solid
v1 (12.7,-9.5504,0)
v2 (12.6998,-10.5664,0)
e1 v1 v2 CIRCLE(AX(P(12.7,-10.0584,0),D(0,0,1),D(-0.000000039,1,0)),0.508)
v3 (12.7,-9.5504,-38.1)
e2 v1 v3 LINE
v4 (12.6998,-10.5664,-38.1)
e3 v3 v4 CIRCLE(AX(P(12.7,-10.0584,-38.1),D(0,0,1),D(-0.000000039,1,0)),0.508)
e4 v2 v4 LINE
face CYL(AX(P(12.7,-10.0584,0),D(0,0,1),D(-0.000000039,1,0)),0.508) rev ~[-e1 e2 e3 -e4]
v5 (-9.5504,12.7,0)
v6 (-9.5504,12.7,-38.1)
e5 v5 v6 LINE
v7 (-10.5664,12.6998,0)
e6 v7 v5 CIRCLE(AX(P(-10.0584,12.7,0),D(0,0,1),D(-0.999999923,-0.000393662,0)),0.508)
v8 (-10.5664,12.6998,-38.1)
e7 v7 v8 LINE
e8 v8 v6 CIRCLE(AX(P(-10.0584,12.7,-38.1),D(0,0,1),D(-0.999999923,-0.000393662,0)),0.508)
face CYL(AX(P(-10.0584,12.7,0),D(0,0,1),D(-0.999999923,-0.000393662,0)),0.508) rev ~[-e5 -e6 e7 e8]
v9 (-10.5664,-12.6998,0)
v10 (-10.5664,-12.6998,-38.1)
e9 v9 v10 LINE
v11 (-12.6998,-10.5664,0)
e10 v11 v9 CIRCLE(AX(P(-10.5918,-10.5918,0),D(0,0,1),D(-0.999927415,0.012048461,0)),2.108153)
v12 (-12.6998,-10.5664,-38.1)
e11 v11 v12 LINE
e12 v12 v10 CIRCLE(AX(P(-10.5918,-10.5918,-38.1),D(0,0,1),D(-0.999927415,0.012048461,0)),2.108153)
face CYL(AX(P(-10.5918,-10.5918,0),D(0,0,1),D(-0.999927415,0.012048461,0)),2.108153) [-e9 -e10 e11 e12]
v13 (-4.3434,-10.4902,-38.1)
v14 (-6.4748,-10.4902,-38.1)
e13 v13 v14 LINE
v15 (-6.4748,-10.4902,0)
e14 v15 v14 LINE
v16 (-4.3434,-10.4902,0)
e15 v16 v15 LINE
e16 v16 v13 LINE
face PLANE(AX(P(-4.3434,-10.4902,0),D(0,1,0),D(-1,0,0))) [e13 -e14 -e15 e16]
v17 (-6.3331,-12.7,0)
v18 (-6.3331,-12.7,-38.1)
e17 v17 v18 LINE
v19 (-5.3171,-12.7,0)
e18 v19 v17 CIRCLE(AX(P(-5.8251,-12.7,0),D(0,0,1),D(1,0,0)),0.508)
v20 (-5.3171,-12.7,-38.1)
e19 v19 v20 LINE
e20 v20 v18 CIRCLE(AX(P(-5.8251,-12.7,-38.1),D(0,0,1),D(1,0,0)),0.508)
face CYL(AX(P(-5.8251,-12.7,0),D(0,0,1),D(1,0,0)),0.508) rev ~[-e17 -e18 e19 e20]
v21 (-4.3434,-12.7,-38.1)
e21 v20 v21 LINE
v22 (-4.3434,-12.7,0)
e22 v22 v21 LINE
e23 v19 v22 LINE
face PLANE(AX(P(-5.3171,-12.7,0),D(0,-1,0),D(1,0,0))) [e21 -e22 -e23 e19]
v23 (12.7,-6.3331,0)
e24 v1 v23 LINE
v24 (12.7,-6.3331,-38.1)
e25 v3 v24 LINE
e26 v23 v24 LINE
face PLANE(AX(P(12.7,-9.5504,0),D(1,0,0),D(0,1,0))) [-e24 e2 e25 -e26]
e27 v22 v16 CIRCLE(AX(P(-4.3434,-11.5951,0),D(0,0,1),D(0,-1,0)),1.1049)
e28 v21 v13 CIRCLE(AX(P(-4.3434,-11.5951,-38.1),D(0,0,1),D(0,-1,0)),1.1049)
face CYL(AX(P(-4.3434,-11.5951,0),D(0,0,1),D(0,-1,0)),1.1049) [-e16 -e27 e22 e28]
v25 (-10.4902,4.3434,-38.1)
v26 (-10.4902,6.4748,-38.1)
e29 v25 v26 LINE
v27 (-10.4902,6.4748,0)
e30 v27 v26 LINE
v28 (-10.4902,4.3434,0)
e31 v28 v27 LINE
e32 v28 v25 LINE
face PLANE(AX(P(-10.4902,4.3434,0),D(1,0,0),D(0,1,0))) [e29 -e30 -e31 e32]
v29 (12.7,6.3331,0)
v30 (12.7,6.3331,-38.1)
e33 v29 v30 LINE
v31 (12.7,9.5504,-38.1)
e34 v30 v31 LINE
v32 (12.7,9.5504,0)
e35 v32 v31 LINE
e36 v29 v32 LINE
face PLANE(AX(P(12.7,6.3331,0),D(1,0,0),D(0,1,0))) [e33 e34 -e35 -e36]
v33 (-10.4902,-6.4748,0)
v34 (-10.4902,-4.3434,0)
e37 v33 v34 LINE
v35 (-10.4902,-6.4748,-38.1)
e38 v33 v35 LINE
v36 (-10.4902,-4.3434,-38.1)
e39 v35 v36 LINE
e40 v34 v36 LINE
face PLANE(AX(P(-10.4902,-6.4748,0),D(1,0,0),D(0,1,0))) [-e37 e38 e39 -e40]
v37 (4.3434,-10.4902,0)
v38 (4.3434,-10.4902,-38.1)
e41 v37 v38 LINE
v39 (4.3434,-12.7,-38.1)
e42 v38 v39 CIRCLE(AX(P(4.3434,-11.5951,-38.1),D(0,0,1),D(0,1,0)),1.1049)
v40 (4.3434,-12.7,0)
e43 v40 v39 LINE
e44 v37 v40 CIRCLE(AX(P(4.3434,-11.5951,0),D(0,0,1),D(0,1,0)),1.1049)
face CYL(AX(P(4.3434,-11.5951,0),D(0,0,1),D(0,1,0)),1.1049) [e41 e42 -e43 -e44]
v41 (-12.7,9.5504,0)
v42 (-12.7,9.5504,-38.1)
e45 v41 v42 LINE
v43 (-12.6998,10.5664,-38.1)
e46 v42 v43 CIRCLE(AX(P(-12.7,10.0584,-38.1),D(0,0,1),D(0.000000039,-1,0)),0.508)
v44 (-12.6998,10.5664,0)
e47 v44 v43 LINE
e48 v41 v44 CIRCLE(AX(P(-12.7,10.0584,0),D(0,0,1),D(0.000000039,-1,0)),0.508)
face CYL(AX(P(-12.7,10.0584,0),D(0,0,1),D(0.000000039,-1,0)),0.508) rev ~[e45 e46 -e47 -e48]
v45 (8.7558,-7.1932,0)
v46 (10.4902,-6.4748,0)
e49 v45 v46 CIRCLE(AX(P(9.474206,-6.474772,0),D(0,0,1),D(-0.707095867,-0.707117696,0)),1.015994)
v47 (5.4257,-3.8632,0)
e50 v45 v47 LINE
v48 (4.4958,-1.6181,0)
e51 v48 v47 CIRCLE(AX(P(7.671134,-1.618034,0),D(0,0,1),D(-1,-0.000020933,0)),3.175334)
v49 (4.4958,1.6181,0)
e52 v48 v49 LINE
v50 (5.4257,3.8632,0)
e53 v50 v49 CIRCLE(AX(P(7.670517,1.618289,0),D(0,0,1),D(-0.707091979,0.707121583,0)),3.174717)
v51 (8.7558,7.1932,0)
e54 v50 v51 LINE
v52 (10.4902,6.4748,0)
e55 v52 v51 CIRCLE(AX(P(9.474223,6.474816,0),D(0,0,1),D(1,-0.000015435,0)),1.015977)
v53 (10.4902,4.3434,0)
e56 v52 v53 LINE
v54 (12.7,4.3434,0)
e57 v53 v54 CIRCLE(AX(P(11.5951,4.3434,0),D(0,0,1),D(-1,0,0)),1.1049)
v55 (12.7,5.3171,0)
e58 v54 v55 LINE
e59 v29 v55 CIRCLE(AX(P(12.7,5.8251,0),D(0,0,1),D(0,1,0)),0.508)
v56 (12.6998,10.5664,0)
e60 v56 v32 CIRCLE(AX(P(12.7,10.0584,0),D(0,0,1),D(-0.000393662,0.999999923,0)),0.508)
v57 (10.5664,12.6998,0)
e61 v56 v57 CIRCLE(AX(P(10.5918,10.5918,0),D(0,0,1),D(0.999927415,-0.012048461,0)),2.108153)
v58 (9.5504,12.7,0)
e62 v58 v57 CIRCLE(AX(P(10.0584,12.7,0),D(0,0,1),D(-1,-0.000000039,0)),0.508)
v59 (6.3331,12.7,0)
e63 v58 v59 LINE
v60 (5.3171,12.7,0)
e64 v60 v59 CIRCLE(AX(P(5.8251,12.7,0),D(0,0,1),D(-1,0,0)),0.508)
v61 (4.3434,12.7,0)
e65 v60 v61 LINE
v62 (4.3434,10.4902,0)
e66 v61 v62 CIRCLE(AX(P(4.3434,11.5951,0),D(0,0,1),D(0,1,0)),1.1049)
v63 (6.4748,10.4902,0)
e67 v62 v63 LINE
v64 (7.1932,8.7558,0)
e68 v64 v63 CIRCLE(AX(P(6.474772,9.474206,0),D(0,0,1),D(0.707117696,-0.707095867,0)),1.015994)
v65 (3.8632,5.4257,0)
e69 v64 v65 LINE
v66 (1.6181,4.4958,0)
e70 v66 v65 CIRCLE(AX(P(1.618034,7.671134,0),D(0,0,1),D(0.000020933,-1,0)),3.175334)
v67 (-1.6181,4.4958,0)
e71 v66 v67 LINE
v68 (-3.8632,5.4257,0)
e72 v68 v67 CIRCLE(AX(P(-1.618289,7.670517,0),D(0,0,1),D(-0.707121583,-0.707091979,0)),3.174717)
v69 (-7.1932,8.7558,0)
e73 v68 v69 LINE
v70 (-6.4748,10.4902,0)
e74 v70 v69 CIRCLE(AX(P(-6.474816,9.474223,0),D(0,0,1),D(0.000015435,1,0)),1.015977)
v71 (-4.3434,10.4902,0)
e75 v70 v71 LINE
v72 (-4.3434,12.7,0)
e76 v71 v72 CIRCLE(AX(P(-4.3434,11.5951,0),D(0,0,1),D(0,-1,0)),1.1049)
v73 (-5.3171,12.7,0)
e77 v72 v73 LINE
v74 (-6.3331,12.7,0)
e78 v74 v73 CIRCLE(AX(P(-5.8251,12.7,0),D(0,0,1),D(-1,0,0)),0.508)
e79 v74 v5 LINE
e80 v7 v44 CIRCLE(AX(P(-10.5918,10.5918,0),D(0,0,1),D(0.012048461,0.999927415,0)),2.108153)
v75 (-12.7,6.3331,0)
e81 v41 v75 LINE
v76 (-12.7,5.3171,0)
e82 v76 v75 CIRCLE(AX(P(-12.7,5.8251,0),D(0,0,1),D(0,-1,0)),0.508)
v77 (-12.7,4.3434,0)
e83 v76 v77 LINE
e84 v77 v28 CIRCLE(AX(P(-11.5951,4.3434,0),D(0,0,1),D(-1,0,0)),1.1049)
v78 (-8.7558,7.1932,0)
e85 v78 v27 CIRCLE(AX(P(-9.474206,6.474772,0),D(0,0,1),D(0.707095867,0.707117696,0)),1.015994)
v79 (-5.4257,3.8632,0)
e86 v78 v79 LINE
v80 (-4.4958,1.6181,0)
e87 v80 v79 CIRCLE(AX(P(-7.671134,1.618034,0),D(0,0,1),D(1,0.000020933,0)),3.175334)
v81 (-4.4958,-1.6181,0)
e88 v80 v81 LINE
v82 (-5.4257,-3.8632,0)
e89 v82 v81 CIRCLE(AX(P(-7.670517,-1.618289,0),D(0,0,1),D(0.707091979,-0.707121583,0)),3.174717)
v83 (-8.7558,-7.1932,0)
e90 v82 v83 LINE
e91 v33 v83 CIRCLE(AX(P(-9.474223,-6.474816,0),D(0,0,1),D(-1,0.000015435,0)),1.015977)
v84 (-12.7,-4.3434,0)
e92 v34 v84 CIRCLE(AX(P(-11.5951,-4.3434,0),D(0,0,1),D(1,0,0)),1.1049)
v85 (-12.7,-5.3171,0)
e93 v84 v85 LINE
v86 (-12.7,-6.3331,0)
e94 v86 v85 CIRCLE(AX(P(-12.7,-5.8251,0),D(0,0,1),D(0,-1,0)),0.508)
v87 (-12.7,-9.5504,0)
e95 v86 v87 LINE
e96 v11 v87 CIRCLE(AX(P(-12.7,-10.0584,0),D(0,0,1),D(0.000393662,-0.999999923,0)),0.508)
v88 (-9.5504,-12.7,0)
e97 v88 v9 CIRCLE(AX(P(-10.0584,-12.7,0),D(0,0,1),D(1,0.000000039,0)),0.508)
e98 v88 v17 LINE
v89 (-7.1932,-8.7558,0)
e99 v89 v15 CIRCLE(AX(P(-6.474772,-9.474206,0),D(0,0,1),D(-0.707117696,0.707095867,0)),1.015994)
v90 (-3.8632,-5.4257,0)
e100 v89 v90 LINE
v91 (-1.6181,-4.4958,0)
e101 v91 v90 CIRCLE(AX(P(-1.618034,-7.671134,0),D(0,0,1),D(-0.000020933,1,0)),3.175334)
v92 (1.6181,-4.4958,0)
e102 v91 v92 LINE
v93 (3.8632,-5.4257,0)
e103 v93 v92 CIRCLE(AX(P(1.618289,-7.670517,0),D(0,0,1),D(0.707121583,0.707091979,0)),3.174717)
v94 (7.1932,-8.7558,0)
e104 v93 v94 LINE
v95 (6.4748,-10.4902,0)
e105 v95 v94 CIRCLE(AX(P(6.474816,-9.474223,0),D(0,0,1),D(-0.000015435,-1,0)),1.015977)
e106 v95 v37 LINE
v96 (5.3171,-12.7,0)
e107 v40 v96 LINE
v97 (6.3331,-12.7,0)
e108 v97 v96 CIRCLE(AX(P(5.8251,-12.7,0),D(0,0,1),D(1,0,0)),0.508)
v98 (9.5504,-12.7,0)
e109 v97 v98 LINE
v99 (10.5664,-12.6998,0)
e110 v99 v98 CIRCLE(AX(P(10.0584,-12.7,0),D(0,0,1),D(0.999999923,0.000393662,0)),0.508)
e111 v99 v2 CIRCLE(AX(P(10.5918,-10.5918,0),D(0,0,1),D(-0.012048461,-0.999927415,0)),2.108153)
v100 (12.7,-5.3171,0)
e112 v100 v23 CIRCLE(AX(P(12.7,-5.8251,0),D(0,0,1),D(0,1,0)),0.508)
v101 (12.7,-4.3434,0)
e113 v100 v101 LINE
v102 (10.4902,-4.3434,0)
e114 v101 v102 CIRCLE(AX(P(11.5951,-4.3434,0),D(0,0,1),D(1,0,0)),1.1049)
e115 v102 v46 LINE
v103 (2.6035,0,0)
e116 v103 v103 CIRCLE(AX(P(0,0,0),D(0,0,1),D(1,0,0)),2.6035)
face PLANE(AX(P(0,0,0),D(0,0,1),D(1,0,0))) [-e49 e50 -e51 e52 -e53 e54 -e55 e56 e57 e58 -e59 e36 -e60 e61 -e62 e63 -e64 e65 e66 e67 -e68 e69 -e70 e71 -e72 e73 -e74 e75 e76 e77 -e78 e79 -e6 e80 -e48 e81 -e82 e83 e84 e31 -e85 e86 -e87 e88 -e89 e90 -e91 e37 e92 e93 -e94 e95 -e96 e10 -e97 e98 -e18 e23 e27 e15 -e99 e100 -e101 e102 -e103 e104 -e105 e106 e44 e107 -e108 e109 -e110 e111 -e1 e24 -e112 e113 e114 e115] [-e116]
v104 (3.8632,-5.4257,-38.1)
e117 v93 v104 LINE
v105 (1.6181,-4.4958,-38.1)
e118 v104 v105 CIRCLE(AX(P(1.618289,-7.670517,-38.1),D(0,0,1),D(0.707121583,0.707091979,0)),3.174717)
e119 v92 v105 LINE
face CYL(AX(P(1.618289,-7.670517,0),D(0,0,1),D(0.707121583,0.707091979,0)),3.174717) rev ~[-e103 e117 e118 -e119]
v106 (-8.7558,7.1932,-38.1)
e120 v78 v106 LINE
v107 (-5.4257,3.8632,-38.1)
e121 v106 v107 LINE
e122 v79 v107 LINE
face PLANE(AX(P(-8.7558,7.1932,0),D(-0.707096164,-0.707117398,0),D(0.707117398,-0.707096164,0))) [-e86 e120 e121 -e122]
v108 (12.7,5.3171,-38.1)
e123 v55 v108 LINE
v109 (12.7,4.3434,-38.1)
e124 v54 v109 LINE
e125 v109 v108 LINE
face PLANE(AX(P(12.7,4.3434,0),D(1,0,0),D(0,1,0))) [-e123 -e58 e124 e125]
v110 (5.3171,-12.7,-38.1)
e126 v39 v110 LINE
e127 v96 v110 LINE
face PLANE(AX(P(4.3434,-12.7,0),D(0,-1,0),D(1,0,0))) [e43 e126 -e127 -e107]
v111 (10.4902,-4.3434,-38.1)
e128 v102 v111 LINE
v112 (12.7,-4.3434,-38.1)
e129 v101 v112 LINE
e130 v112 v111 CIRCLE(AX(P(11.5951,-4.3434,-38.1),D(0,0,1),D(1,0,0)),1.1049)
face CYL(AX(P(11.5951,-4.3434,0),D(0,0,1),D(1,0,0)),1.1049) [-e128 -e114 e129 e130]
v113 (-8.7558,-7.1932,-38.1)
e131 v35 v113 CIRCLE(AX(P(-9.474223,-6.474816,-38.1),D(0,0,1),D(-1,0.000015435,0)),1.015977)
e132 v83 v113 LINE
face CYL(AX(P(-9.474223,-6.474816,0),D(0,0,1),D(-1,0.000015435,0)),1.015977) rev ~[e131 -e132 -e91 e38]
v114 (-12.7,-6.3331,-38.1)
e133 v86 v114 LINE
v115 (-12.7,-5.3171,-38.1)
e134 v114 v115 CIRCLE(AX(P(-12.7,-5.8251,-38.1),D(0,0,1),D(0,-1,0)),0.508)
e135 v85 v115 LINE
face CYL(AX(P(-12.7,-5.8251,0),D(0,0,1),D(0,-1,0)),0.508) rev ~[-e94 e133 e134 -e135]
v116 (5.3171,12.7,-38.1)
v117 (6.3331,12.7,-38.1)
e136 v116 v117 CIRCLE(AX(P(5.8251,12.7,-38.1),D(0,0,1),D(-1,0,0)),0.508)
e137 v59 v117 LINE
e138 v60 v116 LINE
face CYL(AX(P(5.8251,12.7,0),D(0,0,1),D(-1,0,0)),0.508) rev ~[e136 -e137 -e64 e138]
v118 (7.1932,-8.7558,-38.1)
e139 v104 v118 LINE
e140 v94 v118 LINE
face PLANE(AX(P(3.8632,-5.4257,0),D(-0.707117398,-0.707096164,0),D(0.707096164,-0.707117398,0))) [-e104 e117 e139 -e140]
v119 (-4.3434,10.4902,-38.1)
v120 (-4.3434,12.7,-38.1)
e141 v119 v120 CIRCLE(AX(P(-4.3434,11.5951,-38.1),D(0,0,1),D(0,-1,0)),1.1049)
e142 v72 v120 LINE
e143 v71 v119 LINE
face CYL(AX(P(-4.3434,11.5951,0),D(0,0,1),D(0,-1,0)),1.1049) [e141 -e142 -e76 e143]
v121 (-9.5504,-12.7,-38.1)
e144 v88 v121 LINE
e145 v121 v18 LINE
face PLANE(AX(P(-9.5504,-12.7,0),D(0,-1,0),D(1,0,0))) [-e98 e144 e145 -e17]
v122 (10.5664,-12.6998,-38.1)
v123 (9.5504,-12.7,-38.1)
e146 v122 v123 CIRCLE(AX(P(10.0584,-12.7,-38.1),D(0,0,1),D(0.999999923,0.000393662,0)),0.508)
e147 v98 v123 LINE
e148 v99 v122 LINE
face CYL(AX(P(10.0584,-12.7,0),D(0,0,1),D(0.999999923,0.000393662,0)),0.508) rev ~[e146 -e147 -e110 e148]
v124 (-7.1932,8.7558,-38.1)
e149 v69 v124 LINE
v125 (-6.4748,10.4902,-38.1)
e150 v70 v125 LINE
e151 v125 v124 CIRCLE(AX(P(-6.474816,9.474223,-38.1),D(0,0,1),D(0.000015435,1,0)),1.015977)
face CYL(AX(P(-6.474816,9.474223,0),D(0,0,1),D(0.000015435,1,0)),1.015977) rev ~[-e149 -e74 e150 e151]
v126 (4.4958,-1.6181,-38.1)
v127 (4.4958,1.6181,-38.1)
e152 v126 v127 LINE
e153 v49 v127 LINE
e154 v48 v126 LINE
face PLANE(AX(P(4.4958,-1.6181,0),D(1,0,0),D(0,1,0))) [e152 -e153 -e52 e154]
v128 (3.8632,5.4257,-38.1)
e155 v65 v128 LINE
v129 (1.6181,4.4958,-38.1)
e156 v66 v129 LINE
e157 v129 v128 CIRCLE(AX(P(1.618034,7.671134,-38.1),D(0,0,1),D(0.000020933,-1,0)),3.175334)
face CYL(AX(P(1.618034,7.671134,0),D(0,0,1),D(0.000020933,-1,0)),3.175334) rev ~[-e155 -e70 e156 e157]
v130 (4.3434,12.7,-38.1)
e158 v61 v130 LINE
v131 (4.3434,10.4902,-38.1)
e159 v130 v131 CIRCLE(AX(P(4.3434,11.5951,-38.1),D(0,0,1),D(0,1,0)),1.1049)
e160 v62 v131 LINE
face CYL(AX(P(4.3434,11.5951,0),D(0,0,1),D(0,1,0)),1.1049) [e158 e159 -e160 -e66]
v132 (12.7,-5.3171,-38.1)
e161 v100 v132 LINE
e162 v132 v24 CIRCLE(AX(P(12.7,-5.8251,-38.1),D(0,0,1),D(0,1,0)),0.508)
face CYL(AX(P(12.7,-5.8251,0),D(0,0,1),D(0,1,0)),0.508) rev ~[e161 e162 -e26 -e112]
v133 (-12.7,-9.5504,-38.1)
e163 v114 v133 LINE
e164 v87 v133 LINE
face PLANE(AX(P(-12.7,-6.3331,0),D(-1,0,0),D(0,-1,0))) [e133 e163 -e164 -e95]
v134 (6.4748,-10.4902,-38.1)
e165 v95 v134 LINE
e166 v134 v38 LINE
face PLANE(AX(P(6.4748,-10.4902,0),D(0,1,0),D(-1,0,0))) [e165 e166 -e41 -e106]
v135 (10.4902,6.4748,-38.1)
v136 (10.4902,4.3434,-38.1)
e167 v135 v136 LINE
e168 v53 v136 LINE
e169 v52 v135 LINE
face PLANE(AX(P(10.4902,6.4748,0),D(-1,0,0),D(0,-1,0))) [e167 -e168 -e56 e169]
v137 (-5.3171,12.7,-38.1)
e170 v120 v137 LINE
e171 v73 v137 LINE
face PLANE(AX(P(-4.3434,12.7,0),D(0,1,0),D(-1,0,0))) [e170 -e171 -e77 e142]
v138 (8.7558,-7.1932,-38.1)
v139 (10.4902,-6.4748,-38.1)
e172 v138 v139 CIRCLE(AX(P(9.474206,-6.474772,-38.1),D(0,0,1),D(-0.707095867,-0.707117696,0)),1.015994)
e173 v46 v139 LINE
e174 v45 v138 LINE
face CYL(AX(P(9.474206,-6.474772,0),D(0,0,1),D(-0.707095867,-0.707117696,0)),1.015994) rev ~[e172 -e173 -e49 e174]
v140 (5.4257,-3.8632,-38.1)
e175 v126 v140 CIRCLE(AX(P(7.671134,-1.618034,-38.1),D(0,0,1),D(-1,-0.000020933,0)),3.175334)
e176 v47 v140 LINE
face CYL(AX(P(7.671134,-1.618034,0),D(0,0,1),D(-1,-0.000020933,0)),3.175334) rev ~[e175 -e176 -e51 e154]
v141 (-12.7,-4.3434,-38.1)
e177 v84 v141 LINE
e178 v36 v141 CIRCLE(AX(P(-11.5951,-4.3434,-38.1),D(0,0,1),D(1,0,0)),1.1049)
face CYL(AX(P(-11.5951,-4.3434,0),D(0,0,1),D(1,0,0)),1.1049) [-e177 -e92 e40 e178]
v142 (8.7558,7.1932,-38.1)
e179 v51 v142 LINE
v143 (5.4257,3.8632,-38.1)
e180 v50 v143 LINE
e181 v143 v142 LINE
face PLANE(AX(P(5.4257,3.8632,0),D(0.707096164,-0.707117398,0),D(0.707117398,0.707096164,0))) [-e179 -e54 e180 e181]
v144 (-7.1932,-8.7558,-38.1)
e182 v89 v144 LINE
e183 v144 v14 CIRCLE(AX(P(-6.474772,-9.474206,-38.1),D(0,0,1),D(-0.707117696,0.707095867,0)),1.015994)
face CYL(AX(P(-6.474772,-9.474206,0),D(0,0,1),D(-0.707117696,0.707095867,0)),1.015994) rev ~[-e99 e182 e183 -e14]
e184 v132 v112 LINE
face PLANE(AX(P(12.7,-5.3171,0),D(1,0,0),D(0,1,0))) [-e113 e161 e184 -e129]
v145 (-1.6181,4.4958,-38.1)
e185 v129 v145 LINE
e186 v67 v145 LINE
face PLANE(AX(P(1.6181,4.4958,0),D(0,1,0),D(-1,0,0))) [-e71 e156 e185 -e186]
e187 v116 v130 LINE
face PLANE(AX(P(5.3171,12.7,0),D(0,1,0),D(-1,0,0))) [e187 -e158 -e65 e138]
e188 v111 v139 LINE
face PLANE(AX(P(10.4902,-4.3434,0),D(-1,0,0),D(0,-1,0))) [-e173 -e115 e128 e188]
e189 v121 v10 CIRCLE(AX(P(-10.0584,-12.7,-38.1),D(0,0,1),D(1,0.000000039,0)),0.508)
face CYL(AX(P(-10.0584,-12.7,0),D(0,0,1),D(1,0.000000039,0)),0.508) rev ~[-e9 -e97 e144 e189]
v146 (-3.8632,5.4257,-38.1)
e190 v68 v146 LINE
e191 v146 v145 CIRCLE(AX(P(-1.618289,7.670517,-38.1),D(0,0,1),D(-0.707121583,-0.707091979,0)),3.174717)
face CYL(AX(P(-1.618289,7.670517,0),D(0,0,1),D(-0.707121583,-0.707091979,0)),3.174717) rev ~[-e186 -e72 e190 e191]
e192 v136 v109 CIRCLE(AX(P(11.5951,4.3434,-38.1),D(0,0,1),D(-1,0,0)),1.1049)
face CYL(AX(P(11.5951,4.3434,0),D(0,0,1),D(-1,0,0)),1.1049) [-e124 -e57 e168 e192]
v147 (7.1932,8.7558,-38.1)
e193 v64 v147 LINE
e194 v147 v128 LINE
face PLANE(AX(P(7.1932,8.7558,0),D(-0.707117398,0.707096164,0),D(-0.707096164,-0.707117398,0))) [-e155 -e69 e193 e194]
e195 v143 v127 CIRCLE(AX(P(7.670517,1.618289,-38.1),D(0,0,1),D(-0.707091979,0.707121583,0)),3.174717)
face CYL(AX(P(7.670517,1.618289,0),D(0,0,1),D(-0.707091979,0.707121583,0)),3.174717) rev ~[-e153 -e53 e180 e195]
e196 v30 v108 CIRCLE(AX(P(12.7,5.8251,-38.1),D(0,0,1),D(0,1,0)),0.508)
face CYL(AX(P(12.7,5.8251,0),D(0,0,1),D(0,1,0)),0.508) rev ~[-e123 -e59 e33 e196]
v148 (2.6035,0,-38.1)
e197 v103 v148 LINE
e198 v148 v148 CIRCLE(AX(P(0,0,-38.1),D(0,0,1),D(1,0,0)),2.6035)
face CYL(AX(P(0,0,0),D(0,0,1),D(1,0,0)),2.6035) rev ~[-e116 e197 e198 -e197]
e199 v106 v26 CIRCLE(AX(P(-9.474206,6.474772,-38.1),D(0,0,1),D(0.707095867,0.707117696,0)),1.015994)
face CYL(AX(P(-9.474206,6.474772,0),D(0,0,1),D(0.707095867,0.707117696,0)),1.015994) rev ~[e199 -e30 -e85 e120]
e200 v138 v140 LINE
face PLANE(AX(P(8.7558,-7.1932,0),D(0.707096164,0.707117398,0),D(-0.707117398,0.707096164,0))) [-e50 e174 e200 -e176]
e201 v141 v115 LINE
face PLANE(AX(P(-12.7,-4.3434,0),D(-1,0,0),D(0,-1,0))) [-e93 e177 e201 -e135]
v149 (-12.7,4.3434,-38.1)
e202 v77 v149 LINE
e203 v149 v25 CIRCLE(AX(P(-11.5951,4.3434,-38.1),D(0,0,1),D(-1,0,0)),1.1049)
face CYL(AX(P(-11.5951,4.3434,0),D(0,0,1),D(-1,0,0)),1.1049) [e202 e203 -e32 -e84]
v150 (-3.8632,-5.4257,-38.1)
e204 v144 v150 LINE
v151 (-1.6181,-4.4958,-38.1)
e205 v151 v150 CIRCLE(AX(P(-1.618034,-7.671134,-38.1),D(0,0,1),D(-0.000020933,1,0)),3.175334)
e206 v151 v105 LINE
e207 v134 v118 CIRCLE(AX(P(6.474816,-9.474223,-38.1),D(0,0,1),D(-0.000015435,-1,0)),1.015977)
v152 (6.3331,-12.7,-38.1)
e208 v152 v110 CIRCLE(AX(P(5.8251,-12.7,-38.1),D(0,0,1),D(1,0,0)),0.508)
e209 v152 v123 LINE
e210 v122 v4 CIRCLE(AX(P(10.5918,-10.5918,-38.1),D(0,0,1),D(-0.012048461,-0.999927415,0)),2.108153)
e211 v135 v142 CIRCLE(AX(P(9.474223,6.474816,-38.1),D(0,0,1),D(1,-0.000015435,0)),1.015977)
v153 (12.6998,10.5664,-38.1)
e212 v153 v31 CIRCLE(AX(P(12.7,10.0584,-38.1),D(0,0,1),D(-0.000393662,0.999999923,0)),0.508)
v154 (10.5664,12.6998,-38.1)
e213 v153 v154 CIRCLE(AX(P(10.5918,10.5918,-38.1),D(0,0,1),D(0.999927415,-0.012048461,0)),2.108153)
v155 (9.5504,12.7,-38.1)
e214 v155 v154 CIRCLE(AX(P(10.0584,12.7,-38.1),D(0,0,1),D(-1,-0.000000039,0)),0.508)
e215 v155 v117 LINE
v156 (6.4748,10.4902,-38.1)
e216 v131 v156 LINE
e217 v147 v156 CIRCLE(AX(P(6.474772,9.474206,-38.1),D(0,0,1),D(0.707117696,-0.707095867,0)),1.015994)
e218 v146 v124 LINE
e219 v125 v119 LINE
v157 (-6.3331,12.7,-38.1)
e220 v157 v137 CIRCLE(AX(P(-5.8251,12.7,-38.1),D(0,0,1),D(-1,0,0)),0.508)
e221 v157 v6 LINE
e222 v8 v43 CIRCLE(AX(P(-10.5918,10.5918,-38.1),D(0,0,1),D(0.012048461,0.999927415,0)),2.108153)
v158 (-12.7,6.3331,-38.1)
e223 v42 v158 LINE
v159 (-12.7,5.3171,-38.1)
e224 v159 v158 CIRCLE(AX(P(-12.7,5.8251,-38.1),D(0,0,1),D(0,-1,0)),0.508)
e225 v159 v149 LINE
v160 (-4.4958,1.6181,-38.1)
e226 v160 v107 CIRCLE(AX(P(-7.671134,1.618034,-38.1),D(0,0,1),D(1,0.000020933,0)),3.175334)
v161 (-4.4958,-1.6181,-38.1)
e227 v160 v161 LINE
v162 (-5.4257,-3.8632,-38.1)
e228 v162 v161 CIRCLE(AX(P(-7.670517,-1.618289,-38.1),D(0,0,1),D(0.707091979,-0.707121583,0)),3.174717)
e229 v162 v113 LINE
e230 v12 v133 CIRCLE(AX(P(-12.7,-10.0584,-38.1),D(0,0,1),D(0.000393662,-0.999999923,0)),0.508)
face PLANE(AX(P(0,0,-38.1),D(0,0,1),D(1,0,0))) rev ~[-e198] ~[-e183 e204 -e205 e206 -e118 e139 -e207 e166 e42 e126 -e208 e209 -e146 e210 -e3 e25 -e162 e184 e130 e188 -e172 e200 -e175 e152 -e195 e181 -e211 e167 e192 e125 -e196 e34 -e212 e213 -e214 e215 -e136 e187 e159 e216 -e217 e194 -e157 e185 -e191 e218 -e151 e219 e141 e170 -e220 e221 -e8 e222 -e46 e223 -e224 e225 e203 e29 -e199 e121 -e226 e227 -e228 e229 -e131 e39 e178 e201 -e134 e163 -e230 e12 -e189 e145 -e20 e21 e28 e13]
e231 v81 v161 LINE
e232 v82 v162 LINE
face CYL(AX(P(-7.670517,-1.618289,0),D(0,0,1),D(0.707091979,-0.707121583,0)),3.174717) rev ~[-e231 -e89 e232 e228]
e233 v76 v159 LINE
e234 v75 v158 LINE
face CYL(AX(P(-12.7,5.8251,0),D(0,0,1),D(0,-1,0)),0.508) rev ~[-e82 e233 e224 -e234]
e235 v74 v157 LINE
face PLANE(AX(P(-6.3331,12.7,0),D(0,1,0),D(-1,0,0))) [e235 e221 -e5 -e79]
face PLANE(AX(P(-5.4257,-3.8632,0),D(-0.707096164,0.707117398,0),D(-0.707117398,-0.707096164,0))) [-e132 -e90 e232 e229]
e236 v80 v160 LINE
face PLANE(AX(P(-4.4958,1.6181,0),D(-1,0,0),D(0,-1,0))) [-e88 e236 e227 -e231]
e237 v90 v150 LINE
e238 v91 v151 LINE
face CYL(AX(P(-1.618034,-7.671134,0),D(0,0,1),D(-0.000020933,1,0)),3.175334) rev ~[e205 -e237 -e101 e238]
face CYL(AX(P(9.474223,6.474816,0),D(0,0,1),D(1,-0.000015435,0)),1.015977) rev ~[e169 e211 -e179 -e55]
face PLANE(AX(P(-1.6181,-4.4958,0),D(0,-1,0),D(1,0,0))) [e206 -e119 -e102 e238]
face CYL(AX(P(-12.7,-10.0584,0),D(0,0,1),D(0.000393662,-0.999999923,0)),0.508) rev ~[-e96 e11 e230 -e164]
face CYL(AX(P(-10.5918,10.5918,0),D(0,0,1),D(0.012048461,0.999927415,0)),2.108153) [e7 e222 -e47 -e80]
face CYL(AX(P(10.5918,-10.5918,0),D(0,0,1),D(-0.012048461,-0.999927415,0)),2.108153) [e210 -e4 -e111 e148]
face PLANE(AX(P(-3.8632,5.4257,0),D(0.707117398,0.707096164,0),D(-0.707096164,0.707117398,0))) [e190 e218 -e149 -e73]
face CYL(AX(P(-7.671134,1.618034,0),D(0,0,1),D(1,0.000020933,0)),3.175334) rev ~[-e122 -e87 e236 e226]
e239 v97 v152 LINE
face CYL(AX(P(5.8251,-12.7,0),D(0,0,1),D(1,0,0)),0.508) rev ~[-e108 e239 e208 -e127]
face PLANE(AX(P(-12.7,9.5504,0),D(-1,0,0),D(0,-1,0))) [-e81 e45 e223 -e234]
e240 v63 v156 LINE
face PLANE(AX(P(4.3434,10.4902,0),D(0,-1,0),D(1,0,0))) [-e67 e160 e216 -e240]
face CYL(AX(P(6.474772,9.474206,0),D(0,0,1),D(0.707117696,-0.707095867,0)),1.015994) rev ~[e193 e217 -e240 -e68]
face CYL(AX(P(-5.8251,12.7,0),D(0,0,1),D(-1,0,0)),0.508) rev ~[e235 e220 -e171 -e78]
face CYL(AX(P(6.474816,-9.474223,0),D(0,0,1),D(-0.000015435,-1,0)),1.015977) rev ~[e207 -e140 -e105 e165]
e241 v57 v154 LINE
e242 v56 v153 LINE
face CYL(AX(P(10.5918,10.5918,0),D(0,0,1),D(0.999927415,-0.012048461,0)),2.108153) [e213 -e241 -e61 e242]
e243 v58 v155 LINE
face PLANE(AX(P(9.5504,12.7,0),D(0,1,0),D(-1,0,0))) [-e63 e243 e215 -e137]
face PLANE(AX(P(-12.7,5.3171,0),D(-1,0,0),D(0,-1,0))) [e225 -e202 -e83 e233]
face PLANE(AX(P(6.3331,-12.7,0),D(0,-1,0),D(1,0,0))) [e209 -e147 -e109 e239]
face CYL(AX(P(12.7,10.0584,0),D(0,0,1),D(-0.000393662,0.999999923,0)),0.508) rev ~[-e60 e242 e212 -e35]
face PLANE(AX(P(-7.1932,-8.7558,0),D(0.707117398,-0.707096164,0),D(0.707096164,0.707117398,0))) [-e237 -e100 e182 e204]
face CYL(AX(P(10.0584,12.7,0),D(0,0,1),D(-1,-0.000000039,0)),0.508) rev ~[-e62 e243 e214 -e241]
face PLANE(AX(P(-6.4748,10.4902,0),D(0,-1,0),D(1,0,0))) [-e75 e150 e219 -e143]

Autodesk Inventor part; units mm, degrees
ref_plane "YZ Plane" through (0, 0, 0) normal (1, 0, 0) x (0, 1, 0)
ref_plane "XZ Plane" through (0, 0, 0) normal (0, 1, 0) x (-1, 0, 0)
ref_plane "XY Plane" through (0, 0, 0) normal (0, 0, 1) x (1, 0, 0)
sketch "Sketch_1" plane through (0, 0, 0) normal (0, 0, 1) x (1, 0, 0)
  arc A0 (-12.6998, -10.5664) -> (-10.5664, -12.6998) centre (-10.5918, -10.5918) ccw
  arc A1 (-9.5504, -12.7) -> (-10.5664, -12.6998) centre (-10.0584, -12.7) ccw
  line L0 (-9.5504, -12.7) -> (-6.3331, -12.7)
  arc A2 (-5.3171, -12.7) -> (-6.3331, -12.7) centre (-5.8251, -12.7) ccw
  line L1 (-5.3171, -12.7) -> (-4.3434, -12.7)
  arc A3 (-4.3434, -12.7) -> (-4.3434, -10.4902) centre (-4.3434, -11.5951) ccw
  line L2 (-4.3434, -10.4902) -> (-6.4748, -10.4902)
  arc A4 (-7.1932, -8.7558) -> (-6.4748, -10.4902) centre (-6.4748, -9.4742) ccw
  line L3 (-7.1932, -8.7558) -> (-3.8632, -5.4257)
  arc A5 (-1.6181, -4.4958) -> (-3.8632, -5.4257) centre (-1.6181, -7.6708) ccw
  line L4 (-1.6181, -4.4958) -> (1.6181, -4.4958)
  arc A6 (3.8632, -5.4257) -> (1.6181, -4.4958) centre (1.6181, -7.6708) ccw
  line L5 (3.8632, -5.4257) -> (7.1932, -8.7558)
  arc A7 (6.4748, -10.4902) -> (7.1932, -8.7558) centre (6.4748, -9.4742) ccw
  line L6 (6.4748, -10.4902) -> (4.3434, -10.4902)
  arc A8 (4.3434, -10.4902) -> (4.3434, -12.7) centre (4.3434, -11.5951) ccw
  line L7 (4.3434, -12.7) -> (5.3171, -12.7)
  arc A9 (6.3331, -12.7) -> (5.3171, -12.7) centre (5.8251, -12.7) ccw
  line L8 (6.3331, -12.7) -> (9.5504, -12.7)
  arc A10 (10.5664, -12.6998) -> (9.5504, -12.7) centre (10.0584, -12.7) ccw
  arc A11 (10.5664, -12.6998) -> (12.6998, -10.5664) centre (10.5918, -10.5918) ccw
  arc A12 (12.7, -9.5504) -> (12.6998, -10.5664) centre (12.7, -10.0584) ccw
  line L9 (12.7, -9.5504) -> (12.7, -6.3331)
  arc A13 (12.7, -5.3171) -> (12.7, -6.3331) centre (12.7, -5.8251) ccw
  line L10 (12.7, -5.3171) -> (12.7, -4.3434)
  arc A14 (12.7, -4.3434) -> (10.4902, -4.3434) centre (11.5951, -4.3434) ccw
  line L11 (10.4902, -4.3434) -> (10.4902, -6.4748)
  arc A15 (8.7558, -7.1932) -> (10.4902, -6.4748) centre (9.4742, -6.4748) ccw
  line L12 (8.7558, -7.1932) -> (5.4257, -3.8632)
  arc A16 (4.4958, -1.6181) -> (5.4257, -3.8632) centre (7.6708, -1.6181) ccw
  line L13 (4.4958, -1.6181) -> (4.4958, 1.6181)
  arc A17 (5.4257, 3.8632) -> (4.4958, 1.6181) centre (7.6708, 1.6181) ccw
  line L14 (5.4257, 3.8632) -> (8.7558, 7.1932)
  arc A18 (10.4902, 6.4748) -> (8.7558, 7.1932) centre (9.4742, 6.4748) ccw
  line L15 (10.4902, 6.4748) -> (10.4902, 4.3434)
  arc A19 (10.4902, 4.3434) -> (12.7, 4.3434) centre (11.5951, 4.3434) ccw
  line L16 (12.7, 4.3434) -> (12.7, 5.3171)
  arc A20 (12.7, 6.3331) -> (12.7, 5.3171) centre (12.7, 5.8251) ccw
  line L17 (12.7, 6.3331) -> (12.7, 9.5504)
  arc A21 (12.6998, 10.5664) -> (12.7, 9.5504) centre (12.7, 10.0584) ccw
  arc A22 (12.6998, 10.5664) -> (10.5664, 12.6998) centre (10.5918, 10.5918) ccw
  arc A23 (9.5504, 12.7) -> (10.5664, 12.6998) centre (10.0584, 12.7) ccw
  line L18 (9.5504, 12.7) -> (6.3331, 12.7)
  arc A24 (5.3171, 12.7) -> (6.3331, 12.7) centre (5.8251, 12.7) ccw
  line L19 (5.3171, 12.7) -> (4.3434, 12.7)
  arc A25 (4.3434, 12.7) -> (4.3434, 10.4902) centre (4.3434, 11.5951) ccw
  line L20 (4.3434, 10.4902) -> (6.4748, 10.4902)
  arc A26 (7.1932, 8.7558) -> (6.4748, 10.4902) centre (6.4748, 9.4742) ccw
  line L21 (7.1932, 8.7558) -> (3.8632, 5.4257)
  arc A27 (1.6181, 4.4958) -> (3.8632, 5.4257) centre (1.6181, 7.6708) ccw
  line L22 (1.6181, 4.4958) -> (-1.6181, 4.4958)
  arc A28 (-3.8632, 5.4257) -> (-1.6181, 4.4958) centre (-1.6181, 7.6708) ccw
  line L23 (-3.8632, 5.4257) -> (-7.1932, 8.7558)
  arc A29 (-6.4748, 10.4902) -> (-7.1932, 8.7558) centre (-6.4748, 9.4742) ccw
  line L24 (-6.4748, 10.4902) -> (-4.3434, 10.4902)
  arc A30 (-4.3434, 10.4902) -> (-4.3434, 12.7) centre (-4.3434, 11.5951) ccw
  line L25 (-4.3434, 12.7) -> (-5.3171, 12.7)
  arc A31 (-6.3331, 12.7) -> (-5.3171, 12.7) centre (-5.8251, 12.7) ccw
  line L26 (-6.3331, 12.7) -> (-9.5504, 12.7)
  arc A32 (-10.5664, 12.6998) -> (-9.5504, 12.7) centre (-10.0584, 12.7) ccw
  arc A33 (-10.5664, 12.6998) -> (-12.6998, 10.5664) centre (-10.5918, 10.5918) ccw
  arc A34 (-12.7, 9.5504) -> (-12.6998, 10.5664) centre (-12.7, 10.0584) ccw
  line L27 (-12.7, 9.5504) -> (-12.7, 6.3331)
  arc A35 (-12.7, 5.3171) -> (-12.7, 6.3331) centre (-12.7, 5.8251) ccw
  line L28 (-12.7, 5.3171) -> (-12.7, 4.3434)
  arc A36 (-12.7, 4.3434) -> (-10.4902, 4.3434) centre (-11.5951, 4.3434) ccw
  line L29 (-10.4902, 4.3434) -> (-10.4902, 6.4748)
  arc A37 (-8.7558, 7.1932) -> (-10.4902, 6.4748) centre (-9.4742, 6.4748) ccw
  line L30 (-8.7558, 7.1932) -> (-5.4257, 3.8632)
  arc A38 (-4.4958, 1.6181) -> (-5.4257, 3.8632) centre (-7.6708, 1.6181) ccw
  line L31 (-4.4958, 1.6181) -> (-4.4958, -1.6181)
  arc A39 (-5.4257, -3.8632) -> (-4.4958, -1.6181) centre (-7.6708, -1.6181) ccw
  line L32 (-5.4257, -3.8632) -> (-8.7558, -7.1932)
  arc A40 (-10.4902, -6.4748) -> (-8.7558, -7.1932) centre (-9.4742, -6.4748) ccw
  line L33 (-10.4902, -6.4748) -> (-10.4902, -4.3434)
  arc A41 (-10.4902, -4.3434) -> (-12.7, -4.3434) centre (-11.5951, -4.3434) ccw
  line L34 (-12.7, -4.3434) -> (-12.7, -5.3171)
  arc A42 (-12.7, -6.3331) -> (-12.7, -5.3171) centre (-12.7, -5.8251) ccw
  line L35 (-12.7, -6.3331) -> (-12.7, -9.5504)
  arc A43 (-12.6998, -10.5664) -> (-12.7, -9.5504) centre (-12.7, -10.0584) ccw
  circle A44 centre (0, 0) radius 2.6035
extrude "Extrusion1" add sketch "Sketch_1" against normal blind 38.1
properties part number "1010-15-CL"
